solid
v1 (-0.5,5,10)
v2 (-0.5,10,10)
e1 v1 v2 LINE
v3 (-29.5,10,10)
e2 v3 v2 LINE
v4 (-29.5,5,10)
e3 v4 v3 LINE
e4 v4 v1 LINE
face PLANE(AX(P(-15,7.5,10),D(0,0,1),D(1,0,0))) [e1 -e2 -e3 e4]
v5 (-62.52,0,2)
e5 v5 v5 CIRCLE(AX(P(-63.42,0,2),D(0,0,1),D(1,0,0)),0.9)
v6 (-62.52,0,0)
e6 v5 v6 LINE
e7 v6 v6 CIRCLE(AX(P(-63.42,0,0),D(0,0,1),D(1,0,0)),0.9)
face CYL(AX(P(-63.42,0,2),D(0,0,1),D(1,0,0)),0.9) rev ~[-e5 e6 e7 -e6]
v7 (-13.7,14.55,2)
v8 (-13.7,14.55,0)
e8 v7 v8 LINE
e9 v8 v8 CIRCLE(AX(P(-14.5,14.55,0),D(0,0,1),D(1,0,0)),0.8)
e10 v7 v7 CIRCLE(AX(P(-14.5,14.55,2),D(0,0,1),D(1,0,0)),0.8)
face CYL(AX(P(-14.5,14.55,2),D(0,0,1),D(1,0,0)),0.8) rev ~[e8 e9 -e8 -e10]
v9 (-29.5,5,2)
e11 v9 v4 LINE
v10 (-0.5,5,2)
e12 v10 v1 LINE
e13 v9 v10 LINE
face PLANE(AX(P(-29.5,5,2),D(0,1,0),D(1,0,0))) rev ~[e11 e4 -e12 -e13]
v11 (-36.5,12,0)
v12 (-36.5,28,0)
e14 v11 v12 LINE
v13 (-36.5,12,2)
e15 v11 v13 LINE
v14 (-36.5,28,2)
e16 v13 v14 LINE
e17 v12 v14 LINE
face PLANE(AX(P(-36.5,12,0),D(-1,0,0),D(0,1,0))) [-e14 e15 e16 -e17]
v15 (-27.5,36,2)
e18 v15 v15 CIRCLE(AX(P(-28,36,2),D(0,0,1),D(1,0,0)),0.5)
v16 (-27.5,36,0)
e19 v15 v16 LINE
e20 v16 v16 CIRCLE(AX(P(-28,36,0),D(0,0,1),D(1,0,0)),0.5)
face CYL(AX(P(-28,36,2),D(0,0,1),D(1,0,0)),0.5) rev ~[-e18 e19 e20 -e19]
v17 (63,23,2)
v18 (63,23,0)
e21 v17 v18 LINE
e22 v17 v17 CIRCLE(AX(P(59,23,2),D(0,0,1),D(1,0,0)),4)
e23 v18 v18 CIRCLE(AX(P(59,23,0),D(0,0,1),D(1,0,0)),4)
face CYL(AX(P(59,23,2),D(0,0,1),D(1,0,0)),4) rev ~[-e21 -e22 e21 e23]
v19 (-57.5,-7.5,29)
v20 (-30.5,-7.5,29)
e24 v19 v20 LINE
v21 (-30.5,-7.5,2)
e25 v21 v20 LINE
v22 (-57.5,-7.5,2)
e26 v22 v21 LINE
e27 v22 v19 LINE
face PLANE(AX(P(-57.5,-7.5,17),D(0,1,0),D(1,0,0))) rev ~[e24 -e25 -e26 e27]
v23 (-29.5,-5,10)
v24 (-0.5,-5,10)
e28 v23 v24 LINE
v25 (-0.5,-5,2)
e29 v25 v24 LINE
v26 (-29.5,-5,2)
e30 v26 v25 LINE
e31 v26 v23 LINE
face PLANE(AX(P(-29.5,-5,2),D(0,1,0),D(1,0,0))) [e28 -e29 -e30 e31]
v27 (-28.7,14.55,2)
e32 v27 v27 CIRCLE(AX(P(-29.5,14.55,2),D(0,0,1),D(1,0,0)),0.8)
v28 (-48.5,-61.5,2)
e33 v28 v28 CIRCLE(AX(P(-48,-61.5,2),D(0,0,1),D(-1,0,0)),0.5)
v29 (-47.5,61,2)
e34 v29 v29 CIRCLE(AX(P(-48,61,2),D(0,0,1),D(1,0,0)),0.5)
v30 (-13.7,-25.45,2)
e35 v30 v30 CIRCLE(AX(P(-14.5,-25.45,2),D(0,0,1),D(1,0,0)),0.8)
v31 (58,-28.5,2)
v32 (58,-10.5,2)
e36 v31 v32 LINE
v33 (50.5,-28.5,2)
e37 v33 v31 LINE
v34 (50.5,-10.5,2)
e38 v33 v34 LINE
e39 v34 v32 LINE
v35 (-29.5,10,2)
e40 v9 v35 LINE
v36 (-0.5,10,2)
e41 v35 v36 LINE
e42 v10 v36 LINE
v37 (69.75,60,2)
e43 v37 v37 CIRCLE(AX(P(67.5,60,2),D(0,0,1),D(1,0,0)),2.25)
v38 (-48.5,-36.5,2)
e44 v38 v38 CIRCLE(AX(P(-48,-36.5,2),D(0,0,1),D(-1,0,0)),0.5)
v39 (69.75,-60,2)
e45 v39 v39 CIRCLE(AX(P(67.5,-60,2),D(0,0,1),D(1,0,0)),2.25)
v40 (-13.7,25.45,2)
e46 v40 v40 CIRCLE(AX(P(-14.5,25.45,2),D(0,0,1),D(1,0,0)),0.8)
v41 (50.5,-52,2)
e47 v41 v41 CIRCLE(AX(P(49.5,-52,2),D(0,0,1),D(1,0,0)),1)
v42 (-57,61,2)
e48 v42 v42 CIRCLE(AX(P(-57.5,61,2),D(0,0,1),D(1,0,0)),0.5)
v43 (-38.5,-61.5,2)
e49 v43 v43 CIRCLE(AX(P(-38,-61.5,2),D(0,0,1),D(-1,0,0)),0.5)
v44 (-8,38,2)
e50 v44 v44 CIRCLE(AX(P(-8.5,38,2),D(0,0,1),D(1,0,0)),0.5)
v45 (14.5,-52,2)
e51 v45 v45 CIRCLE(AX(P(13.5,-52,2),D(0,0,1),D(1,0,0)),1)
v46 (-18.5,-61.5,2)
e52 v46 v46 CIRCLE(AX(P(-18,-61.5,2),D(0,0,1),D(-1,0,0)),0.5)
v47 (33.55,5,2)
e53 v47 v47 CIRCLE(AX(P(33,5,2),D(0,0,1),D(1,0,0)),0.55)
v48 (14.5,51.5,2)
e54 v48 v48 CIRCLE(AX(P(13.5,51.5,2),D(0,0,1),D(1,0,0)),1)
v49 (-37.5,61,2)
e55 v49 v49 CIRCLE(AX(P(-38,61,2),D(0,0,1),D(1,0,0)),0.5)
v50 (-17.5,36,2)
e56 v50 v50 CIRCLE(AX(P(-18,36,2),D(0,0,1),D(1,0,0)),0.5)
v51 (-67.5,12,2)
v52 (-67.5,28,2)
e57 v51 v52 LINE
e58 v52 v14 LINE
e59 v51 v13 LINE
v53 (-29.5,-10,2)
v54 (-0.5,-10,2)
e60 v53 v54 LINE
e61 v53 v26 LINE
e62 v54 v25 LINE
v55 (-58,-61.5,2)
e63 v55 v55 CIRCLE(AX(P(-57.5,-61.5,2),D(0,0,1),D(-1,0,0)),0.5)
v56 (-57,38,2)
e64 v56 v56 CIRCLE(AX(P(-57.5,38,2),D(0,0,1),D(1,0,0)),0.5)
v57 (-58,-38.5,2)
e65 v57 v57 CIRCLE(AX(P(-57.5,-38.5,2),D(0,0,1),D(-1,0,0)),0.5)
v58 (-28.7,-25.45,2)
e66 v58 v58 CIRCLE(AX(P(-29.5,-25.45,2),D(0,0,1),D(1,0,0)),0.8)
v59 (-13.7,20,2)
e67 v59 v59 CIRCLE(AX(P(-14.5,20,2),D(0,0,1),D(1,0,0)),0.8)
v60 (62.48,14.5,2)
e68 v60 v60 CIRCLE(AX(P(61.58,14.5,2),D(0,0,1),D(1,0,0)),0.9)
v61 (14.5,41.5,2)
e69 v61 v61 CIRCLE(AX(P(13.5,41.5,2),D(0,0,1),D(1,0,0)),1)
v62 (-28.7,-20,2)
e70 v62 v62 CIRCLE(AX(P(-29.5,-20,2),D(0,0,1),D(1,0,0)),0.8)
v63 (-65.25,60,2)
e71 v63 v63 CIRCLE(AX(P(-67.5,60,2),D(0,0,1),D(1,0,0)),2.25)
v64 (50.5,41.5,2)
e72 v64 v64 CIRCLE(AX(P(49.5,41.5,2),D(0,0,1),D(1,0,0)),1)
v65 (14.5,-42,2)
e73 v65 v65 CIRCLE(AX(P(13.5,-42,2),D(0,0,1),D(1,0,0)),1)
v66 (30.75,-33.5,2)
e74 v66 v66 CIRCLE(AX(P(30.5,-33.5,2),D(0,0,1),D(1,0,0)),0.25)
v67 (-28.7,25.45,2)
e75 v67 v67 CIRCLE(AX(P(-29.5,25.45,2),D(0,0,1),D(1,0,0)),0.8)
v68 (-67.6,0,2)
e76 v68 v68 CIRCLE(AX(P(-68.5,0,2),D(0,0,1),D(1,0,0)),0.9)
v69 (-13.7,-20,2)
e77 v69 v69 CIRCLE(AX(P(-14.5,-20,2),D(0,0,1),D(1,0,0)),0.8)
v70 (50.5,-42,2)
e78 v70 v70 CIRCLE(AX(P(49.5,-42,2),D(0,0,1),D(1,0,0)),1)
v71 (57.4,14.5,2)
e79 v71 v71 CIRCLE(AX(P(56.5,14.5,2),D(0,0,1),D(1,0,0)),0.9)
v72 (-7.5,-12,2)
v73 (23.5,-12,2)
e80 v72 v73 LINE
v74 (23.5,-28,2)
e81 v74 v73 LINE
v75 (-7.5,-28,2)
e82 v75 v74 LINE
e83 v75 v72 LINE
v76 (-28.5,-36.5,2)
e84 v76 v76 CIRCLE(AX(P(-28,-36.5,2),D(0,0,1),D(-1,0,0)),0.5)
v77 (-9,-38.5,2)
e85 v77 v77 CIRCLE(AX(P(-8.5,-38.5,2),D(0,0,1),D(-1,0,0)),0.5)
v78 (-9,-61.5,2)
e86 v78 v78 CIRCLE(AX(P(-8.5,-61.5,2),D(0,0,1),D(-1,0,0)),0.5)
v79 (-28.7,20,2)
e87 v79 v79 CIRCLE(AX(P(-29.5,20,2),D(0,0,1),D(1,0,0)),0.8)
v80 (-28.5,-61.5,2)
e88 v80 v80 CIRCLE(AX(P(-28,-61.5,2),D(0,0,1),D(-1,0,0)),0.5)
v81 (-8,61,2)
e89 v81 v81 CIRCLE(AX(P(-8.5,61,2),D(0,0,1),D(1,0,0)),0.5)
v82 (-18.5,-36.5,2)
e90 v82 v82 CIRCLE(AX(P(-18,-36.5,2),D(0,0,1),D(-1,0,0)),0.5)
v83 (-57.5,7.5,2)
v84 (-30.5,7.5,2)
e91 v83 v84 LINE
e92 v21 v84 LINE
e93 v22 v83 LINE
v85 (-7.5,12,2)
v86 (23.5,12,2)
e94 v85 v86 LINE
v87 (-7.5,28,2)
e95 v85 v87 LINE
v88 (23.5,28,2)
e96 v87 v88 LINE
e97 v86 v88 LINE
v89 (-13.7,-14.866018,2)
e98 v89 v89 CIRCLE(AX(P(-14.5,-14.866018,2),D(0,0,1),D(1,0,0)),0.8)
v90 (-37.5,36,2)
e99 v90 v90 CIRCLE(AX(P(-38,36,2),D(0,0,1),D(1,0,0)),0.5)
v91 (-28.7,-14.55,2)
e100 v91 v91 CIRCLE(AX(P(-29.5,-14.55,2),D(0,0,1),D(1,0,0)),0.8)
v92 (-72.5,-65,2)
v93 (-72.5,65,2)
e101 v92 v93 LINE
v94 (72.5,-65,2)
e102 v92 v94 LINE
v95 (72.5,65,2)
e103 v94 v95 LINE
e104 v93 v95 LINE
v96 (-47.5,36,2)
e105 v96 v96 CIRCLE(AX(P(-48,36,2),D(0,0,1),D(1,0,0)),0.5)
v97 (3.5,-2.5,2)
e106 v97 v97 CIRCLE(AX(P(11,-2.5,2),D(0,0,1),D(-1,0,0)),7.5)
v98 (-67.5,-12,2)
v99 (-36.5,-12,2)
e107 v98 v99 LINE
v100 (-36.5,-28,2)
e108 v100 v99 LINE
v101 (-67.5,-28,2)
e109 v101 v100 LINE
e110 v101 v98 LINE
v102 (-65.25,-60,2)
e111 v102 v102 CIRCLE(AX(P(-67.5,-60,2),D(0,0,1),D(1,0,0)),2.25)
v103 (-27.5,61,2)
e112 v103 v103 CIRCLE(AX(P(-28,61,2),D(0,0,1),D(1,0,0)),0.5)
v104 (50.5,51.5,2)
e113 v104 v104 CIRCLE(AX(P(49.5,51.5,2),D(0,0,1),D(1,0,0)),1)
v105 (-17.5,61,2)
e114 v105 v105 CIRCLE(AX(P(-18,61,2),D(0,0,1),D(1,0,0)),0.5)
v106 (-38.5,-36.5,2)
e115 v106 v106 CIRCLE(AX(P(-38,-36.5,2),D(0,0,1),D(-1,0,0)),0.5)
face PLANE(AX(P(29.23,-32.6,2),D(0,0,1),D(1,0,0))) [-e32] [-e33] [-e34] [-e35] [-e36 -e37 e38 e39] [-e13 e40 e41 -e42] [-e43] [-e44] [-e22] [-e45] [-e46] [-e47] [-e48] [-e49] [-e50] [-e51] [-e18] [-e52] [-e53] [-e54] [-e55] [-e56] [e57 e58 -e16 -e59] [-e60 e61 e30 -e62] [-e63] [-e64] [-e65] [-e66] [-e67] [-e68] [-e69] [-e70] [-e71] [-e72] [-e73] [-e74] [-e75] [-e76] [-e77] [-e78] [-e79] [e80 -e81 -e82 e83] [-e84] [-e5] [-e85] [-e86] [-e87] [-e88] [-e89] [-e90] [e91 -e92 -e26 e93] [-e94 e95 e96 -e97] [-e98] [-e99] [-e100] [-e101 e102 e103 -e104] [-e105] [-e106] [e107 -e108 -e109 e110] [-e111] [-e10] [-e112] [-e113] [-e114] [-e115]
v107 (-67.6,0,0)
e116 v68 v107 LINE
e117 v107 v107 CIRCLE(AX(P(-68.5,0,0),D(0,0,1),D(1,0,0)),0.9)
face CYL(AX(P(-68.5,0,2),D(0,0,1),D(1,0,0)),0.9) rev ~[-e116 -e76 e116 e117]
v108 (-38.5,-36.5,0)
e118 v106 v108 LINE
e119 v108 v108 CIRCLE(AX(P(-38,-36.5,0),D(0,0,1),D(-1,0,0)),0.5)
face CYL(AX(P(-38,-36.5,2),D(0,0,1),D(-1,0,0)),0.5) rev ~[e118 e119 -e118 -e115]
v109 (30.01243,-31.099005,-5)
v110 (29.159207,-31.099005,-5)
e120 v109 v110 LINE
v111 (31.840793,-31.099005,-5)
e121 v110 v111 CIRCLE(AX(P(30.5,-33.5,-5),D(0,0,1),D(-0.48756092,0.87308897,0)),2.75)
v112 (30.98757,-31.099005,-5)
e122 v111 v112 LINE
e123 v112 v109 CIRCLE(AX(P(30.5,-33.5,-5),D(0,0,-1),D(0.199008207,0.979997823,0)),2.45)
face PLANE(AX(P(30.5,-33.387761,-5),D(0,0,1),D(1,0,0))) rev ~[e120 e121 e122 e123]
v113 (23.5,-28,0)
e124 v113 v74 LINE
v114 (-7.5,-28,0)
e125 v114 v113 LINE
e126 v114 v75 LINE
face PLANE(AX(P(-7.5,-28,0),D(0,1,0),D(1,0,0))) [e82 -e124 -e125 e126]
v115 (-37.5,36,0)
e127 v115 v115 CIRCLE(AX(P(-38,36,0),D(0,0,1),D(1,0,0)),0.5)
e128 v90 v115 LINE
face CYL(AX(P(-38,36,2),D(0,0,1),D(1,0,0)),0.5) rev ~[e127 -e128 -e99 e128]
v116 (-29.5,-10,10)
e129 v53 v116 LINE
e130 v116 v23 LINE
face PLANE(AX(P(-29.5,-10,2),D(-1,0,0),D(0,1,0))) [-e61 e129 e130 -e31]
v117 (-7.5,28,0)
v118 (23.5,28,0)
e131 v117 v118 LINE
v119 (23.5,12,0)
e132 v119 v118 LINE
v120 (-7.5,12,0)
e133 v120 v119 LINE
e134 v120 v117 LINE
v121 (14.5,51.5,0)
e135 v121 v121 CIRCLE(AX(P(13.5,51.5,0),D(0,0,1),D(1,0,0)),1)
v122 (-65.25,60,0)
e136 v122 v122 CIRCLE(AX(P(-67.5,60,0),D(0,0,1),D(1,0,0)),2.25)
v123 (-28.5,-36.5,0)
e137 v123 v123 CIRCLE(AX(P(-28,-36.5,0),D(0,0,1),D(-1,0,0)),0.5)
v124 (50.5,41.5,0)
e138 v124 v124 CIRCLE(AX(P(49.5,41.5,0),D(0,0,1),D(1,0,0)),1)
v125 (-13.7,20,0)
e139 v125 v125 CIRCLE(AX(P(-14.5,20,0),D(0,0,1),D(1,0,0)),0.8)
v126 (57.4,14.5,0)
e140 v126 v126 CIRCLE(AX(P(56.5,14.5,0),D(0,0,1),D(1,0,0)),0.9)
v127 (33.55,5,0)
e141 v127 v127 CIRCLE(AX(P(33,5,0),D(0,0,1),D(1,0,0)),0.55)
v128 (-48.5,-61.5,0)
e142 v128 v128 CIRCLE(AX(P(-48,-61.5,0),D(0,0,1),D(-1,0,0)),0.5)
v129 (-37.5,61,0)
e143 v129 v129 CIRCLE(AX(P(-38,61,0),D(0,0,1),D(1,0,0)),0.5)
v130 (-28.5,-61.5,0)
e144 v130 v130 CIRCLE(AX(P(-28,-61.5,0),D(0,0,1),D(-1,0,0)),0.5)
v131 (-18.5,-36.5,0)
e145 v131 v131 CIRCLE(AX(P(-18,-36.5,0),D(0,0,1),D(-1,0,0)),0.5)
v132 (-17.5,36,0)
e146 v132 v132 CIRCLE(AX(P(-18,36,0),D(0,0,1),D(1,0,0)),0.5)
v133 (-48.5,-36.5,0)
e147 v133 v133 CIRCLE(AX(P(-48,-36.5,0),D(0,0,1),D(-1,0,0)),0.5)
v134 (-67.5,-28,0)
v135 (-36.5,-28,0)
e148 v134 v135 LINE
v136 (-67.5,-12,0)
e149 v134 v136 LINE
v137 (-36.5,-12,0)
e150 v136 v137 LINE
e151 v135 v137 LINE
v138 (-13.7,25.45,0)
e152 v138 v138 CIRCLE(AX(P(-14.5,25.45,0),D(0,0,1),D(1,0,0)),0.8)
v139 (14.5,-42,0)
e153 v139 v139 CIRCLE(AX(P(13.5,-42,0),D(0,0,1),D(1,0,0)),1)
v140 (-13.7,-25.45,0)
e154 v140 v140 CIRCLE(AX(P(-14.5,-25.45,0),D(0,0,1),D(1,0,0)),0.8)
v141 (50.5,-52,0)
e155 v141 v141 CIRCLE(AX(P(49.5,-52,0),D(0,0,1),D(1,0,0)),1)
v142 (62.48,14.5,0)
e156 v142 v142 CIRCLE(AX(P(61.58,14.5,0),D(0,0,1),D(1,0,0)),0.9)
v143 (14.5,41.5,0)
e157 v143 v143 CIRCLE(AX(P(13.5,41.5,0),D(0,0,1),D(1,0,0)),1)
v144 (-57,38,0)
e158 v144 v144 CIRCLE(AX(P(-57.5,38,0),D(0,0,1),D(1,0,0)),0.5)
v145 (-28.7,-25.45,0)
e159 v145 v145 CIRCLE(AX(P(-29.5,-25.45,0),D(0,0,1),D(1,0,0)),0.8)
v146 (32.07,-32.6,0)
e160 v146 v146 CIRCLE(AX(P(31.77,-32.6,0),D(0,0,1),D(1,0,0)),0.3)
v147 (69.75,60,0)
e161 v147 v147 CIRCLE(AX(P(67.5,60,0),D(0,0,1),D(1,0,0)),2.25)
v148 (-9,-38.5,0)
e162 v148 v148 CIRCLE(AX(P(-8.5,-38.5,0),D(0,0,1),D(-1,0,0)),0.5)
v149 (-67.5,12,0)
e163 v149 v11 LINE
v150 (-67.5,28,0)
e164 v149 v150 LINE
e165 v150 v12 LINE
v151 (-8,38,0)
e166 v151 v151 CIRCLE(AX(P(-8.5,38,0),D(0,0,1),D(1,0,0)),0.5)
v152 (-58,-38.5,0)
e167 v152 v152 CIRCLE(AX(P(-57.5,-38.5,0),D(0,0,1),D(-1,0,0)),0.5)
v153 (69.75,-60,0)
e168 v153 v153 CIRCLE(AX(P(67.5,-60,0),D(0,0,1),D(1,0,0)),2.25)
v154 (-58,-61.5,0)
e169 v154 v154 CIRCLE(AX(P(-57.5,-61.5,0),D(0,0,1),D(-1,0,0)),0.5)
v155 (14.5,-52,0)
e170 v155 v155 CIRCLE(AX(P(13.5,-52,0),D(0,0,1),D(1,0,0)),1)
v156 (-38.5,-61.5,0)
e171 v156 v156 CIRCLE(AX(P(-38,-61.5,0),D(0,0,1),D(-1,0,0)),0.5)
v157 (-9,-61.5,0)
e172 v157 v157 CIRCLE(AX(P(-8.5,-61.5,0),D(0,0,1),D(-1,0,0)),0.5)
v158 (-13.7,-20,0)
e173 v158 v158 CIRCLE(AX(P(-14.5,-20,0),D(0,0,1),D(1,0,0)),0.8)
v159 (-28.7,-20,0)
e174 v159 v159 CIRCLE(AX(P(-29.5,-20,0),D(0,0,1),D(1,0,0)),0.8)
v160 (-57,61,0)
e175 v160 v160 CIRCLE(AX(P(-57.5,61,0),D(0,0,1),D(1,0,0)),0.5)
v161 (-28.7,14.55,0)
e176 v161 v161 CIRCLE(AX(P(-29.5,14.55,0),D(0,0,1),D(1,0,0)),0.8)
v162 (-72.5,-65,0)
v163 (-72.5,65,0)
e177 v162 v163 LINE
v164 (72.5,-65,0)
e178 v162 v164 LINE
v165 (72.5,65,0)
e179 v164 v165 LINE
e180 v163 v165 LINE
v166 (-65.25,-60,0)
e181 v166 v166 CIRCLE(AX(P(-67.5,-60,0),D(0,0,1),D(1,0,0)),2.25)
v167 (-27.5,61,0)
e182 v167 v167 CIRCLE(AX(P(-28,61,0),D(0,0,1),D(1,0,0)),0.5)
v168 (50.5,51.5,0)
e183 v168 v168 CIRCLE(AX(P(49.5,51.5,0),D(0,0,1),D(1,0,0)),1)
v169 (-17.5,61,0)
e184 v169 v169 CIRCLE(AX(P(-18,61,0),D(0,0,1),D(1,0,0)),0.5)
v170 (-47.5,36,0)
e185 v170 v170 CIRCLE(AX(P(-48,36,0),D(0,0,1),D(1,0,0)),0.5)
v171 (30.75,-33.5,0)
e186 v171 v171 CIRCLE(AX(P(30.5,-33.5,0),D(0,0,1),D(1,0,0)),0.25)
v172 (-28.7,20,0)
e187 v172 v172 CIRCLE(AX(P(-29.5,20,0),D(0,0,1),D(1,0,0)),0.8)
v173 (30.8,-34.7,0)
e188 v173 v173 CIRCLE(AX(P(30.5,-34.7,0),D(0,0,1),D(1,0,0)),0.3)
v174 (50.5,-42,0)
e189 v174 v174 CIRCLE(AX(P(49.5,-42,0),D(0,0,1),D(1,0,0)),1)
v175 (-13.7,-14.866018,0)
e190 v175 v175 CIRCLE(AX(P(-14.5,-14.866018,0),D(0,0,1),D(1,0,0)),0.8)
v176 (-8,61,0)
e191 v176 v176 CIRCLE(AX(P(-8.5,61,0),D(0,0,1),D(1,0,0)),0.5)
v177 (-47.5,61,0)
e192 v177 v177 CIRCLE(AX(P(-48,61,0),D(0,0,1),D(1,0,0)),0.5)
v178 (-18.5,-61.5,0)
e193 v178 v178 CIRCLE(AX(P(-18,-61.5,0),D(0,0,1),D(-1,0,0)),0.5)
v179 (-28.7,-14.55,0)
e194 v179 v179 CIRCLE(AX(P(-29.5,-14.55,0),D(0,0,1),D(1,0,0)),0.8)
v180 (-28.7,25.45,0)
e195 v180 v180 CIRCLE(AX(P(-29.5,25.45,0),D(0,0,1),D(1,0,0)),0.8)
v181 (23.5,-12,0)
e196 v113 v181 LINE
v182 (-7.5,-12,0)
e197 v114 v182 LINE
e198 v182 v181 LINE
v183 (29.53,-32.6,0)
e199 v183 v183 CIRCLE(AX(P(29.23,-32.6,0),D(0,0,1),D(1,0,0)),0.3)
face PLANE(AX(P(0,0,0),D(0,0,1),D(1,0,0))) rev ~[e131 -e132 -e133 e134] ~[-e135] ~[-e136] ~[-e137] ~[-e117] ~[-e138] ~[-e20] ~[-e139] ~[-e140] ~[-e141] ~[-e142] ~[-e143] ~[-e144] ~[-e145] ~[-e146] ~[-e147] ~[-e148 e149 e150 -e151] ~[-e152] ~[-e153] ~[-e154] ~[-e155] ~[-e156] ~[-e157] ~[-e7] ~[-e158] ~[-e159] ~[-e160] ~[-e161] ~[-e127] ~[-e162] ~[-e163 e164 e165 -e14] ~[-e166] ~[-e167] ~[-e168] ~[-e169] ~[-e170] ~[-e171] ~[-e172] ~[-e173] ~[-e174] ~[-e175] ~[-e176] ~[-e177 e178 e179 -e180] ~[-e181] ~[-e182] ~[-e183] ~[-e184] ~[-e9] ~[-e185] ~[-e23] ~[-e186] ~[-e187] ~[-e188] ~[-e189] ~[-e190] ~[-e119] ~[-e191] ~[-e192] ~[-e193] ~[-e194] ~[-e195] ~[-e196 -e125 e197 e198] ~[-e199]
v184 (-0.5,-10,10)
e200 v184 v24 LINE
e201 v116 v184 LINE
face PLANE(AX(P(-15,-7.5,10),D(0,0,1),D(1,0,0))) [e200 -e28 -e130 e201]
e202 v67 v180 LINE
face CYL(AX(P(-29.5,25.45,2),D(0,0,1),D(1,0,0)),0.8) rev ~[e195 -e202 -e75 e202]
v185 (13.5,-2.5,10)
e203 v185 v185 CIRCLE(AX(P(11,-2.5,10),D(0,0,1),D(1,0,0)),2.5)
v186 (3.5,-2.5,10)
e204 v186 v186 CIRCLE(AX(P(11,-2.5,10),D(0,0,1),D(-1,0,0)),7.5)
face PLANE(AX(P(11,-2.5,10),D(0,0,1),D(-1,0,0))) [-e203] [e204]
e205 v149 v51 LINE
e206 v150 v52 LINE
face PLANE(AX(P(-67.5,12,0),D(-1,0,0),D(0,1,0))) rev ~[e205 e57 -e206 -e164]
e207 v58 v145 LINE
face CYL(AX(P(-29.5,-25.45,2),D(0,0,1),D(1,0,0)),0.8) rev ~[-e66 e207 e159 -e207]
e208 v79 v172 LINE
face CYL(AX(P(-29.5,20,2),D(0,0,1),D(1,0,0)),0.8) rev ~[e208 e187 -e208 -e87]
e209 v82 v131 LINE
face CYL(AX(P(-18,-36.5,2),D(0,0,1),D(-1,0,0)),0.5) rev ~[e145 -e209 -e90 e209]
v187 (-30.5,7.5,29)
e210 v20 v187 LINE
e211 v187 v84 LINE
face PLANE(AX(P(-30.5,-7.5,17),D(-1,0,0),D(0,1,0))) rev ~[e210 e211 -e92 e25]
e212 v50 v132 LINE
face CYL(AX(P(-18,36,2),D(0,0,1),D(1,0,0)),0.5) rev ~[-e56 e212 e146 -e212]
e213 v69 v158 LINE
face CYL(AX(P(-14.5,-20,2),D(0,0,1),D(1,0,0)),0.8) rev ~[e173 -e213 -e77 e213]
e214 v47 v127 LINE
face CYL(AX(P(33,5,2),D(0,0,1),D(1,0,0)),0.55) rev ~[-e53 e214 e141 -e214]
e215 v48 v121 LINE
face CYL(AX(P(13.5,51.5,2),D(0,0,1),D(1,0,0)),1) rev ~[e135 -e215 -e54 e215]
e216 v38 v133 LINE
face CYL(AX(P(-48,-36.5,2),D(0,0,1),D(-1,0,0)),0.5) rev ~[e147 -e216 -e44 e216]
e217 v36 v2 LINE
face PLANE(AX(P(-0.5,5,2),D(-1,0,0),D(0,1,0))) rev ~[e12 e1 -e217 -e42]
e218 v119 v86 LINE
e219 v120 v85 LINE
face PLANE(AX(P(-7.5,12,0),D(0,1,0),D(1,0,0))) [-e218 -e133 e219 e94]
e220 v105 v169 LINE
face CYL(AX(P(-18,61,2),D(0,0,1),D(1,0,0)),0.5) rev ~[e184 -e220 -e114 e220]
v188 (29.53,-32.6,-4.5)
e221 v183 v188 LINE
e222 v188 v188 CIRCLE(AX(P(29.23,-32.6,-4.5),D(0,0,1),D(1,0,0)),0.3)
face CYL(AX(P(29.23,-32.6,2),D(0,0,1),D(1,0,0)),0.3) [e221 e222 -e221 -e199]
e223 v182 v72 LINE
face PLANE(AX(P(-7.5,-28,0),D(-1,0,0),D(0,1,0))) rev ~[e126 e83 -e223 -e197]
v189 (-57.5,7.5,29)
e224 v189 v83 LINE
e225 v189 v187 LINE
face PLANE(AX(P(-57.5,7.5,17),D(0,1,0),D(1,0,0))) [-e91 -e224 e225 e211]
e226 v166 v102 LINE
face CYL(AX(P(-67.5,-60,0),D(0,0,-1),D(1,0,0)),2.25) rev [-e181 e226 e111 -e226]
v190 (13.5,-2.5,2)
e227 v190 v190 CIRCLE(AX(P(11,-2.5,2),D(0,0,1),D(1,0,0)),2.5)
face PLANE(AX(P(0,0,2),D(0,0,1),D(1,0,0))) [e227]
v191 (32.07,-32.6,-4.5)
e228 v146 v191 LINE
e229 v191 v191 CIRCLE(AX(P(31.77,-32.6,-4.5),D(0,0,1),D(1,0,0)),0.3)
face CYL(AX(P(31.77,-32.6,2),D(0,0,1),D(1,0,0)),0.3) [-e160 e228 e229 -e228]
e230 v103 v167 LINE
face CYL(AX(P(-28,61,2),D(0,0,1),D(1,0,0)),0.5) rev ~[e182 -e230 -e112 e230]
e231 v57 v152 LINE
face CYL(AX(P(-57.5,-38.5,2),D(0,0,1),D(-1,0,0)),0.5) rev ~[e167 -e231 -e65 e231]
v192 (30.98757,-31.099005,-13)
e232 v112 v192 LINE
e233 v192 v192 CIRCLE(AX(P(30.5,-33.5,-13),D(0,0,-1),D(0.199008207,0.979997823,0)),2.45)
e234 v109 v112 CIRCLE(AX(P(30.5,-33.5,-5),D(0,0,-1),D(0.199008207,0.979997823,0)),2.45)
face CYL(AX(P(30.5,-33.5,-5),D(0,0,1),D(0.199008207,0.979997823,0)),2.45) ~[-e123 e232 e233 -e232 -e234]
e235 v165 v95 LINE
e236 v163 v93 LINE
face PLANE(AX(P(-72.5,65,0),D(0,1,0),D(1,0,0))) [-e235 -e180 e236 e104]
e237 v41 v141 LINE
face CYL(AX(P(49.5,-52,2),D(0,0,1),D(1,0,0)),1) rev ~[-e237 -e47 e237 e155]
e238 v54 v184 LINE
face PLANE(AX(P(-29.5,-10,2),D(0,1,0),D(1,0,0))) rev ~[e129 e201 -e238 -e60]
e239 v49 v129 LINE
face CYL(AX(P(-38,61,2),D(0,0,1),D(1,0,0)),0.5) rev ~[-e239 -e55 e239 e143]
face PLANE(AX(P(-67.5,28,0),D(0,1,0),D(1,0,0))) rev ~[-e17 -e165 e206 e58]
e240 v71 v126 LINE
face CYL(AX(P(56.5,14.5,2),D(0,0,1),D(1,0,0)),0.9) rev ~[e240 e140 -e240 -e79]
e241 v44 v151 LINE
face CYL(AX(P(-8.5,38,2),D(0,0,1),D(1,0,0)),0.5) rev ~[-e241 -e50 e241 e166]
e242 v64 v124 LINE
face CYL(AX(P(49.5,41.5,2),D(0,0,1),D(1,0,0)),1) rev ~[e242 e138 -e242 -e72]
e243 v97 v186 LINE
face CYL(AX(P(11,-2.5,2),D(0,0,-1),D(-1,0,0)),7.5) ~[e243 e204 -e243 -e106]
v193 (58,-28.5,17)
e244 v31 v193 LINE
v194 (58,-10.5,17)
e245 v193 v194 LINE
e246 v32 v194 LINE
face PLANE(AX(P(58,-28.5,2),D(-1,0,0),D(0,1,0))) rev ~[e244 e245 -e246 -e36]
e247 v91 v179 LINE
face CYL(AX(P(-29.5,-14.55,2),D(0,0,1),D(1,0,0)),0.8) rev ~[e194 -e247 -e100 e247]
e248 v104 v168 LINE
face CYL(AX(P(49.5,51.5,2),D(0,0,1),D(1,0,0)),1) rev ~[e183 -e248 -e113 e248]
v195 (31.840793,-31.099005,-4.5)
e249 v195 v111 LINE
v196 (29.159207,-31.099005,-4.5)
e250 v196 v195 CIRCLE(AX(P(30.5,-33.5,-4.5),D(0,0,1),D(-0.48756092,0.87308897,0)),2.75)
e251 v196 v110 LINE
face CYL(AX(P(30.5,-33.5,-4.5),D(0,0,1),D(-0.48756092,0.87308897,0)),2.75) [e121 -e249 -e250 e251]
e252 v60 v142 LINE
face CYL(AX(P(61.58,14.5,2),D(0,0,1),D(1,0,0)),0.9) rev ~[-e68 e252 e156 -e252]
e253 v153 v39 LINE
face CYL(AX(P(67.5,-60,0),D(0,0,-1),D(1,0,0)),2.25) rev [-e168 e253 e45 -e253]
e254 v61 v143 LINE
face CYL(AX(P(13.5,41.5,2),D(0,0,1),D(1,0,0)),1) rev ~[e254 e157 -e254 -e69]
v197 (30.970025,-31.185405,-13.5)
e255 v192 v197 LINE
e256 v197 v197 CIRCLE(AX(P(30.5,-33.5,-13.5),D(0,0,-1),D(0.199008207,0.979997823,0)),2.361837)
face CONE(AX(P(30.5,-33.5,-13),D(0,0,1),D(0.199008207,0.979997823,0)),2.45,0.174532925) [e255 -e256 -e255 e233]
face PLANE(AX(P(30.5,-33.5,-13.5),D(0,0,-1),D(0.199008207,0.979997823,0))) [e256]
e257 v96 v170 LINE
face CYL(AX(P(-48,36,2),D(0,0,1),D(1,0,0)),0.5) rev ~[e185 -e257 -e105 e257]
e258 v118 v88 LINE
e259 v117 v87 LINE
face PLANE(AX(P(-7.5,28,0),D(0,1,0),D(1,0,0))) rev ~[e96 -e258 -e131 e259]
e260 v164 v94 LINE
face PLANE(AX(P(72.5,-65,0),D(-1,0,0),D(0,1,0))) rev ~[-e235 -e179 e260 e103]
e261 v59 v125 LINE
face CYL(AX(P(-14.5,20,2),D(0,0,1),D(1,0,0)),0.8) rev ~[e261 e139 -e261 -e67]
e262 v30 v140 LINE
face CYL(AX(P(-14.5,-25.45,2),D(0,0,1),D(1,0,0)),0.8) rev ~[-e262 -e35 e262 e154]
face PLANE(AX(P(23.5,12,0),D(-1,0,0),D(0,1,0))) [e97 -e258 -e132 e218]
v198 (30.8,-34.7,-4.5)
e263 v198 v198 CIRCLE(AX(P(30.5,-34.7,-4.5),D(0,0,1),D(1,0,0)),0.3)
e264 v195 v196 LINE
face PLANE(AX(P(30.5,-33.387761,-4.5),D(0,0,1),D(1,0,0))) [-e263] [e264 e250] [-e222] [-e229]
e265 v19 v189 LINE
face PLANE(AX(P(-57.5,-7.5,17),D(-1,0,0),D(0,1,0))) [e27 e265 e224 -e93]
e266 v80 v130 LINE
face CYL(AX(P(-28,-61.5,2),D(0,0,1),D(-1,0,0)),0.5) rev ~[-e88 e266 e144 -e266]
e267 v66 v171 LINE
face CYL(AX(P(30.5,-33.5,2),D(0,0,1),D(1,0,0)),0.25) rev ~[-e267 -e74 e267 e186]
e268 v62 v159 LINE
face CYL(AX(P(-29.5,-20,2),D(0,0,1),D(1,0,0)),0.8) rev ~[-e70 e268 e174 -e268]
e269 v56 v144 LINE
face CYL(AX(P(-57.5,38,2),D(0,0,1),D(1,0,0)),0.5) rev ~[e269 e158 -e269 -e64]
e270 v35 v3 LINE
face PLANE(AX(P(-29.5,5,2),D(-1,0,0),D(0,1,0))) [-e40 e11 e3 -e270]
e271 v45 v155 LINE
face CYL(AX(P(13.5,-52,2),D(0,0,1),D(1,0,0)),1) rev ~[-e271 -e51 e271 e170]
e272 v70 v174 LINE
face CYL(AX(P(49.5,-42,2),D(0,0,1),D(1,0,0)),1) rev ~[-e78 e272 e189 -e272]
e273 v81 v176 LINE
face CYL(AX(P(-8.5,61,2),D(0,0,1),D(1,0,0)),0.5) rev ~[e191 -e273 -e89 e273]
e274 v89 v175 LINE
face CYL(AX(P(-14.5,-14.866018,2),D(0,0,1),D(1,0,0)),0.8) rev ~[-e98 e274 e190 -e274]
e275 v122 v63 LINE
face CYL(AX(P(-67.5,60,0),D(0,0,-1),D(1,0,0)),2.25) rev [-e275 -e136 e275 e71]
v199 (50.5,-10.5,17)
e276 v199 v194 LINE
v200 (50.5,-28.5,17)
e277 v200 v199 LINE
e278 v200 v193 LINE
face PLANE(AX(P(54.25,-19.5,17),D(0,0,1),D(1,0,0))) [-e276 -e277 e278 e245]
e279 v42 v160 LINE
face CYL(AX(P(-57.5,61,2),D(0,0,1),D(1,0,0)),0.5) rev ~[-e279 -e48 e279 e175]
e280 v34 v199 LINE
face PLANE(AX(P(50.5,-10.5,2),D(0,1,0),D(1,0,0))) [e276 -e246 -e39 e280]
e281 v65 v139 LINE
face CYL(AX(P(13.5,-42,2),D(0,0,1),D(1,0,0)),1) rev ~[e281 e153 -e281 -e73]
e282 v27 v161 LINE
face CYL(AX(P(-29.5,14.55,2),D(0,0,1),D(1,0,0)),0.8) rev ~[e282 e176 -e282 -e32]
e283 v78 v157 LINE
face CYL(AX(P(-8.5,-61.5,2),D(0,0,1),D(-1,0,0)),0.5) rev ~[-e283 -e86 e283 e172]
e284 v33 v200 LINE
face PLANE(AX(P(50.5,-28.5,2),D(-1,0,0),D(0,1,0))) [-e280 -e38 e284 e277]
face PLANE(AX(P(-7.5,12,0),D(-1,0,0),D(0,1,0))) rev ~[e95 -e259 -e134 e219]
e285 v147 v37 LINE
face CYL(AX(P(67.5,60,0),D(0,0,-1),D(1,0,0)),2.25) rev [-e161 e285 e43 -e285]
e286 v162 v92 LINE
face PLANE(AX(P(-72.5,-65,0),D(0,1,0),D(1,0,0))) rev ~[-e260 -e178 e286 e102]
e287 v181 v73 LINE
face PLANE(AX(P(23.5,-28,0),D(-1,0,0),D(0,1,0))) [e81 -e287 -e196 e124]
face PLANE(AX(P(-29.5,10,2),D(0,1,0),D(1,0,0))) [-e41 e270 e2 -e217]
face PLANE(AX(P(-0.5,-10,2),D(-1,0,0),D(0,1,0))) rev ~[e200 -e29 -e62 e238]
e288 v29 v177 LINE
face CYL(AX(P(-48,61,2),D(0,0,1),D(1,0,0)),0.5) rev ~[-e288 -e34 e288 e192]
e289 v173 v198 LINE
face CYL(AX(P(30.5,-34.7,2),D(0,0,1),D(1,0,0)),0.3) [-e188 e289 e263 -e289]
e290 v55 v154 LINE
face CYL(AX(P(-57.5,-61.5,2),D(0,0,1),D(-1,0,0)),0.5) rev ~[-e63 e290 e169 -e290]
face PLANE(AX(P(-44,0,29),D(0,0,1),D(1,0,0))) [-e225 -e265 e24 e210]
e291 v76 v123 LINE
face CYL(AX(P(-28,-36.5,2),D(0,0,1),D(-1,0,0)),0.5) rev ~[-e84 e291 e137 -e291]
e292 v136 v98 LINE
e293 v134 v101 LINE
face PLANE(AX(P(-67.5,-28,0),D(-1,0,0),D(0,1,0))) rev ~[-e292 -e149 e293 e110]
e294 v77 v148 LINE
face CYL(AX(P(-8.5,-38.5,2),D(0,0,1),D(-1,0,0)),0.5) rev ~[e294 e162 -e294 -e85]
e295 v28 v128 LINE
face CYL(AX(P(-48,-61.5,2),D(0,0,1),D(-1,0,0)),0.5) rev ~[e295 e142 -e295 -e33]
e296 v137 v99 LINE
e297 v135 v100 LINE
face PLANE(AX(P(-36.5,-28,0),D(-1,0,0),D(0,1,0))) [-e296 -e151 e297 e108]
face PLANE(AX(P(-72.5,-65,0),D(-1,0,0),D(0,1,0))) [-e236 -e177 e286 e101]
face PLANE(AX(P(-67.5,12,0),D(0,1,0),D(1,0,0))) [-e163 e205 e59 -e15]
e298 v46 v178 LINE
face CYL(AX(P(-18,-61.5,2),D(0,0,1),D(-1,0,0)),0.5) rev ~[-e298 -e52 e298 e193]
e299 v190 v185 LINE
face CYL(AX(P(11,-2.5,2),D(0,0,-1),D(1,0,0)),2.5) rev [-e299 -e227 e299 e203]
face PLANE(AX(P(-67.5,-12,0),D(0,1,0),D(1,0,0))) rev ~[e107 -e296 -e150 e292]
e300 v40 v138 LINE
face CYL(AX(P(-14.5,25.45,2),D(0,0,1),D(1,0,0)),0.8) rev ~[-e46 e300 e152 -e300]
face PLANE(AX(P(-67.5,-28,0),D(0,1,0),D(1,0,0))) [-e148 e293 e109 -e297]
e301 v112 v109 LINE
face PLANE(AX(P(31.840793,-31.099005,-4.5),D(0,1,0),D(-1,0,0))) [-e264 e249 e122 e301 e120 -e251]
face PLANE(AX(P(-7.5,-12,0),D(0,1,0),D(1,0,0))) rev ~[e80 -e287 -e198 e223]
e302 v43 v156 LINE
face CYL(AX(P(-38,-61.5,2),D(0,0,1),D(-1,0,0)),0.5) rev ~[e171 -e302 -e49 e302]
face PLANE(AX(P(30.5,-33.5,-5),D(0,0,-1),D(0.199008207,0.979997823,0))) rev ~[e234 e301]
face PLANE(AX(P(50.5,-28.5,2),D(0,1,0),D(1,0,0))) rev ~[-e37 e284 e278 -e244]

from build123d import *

# Parameters (mm, degrees)
SKETCH_1_W          = 145
SKETCH_1_H          = 130
SKETCH_1_R          = 2.25
SKETCH_1_W_2        = 31
SKETCH_1_H_2        = 16
EXTRUDE_1_DEPTH     = 2
SKETCH_2_R          = 0.5
SKETCH_2_R_2        = 0.8
CUT_EXTRUDE_1_DEPTH = 2
SKETCH_3_R          = 1
SKETCH_3_R_2        = 4
SKETCH_3_R_3        = 0.9
CUT_EXTRUDE_2_DEPTH = 2
SKETCH_4_R          = 7.5
SKETCH_4_R_2        = 2.5
SKETCH_4_W          = 29
SKETCH_4_H          = 5
EXTRUDE_2_DEPTH     = 8
SKETCH_5_R          = 0.55
SKETCH_5_R_2        = 0.25
CUT_EXTRUDE_3_DEPTH = 10
SKETCH_6_W          = 27
SKETCH_6_H          = 15
SKETCH_6_W_2        = 7.5
SKETCH_6_H_2        = 18
EXTRUDE_3_DEPTH     = 15
SKETCH_7_W          = 27
SKETCH_7_H          = 15
EXTRUDE_4_DEPTH     = 12
SKETCH_9_R          = 0.3
EXTRUDE_5_DEPTH     = 6.5
EXTRUDE_6_DEPTH     = 0.5
SKETCH_11_R         = 2.45
EXTRUDE_7_DEPTH     = 8.5
CHAMFER_1_SIZE      = 0.5
CHAMFER_1_SIZE2     = 0.08816349


with BuildPart() as part:
    # Эскиз1 → Вытянуть1 (new body)
    with BuildSketch(Plane.XY):
        Rectangle(SKETCH_1_W, SKETCH_1_H)
        with Locations((-67.5, 60)):
            Circle(SKETCH_1_R, mode=Mode.SUBTRACT)
        with Locations((-67.5, -60)):
            Circle(SKETCH_1_R, mode=Mode.SUBTRACT)
        with Locations((67.5, 60)):
            Circle(SKETCH_1_R, mode=Mode.SUBTRACT)
        with Locations((67.5, -60)):
            Circle(SKETCH_1_R, mode=Mode.SUBTRACT)
        with Locations((-52, 20)):
            Rectangle(SKETCH_1_W_2, SKETCH_1_H_2, mode=Mode.SUBTRACT)
        with Locations((-52, -20)):
            Rectangle(SKETCH_1_W_2, SKETCH_1_H_2, mode=Mode.SUBTRACT)
        with Locations((8, 20)):
            Rectangle(SKETCH_1_W_2, SKETCH_1_H_2, mode=Mode.SUBTRACT)
        with Locations((8, -20)):
            Rectangle(SKETCH_1_W_2, SKETCH_1_H_2, mode=Mode.SUBTRACT)
    extrude(amount=EXTRUDE_1_DEPTH)

    # Эскиз2 → Вырез-Вытянуть1 (cut)
    with BuildSketch(Plane.XY.offset(2)):
        with Locations((-57.5, 61)):
            Circle(SKETCH_2_R)
        with Locations((-48, 61)):
            Circle(SKETCH_2_R)
        with Locations((-57.5, 38)):
            Circle(SKETCH_2_R)
        with Locations((-48, 36)):
            Circle(SKETCH_2_R)
        with Locations((-38, 61)):
            Circle(SKETCH_2_R)
        with Locations((-38, 36)):
            Circle(SKETCH_2_R)
        with Locations((-28, 61)):
            Circle(SKETCH_2_R)
        with Locations((-28, 36)):
            Circle(SKETCH_2_R)
        with Locations((-18, 61)):
            Circle(SKETCH_2_R)
        with Locations((-18, 36)):
            Circle(SKETCH_2_R)
        with Locations((-8.5, 61)):
            Circle(SKETCH_2_R)
        with Locations((-8.5, 38)):
            Circle(SKETCH_2_R)
        with Locations(Location((-8.5, -38.5, 0), (0, 0, 180))):
            Circle(SKETCH_2_R)
        with Locations(Location((-8.5, -61.5, 0), (0, 0, 180))):
            Circle(SKETCH_2_R)
        with Locations(Location((-18, -61.5, 0), (0, 0, 180))):
            Circle(SKETCH_2_R)
        with Locations(Location((-18, -36.5, 0), (0, 0, 180))):
            Circle(SKETCH_2_R)
        with Locations(Location((-28, -36.5, 0), (0, 0, 180))):
            Circle(SKETCH_2_R)
        with Locations(Location((-28, -61.5, 0), (0, 0, 180))):
            Circle(SKETCH_2_R)
        with Locations(Location((-38, -61.5, 0), (0, 0, 180))):
            Circle(SKETCH_2_R)
        with Locations(Location((-38, -36.5, 0), (0, 0, 180))):
            Circle(SKETCH_2_R)
        with Locations(Location((-48, -36.5, 0), (0, 0, 180))):
            Circle(SKETCH_2_R)
        with Locations(Location((-48, -61.5, 0), (0, 0, 180))):
            Circle(SKETCH_2_R)
        with Locations(Location((-57.5, -61.5, 0), (0, 0, 180))):
            Circle(SKETCH_2_R)
        with Locations(Location((-57.5, -38.5, 0), (0, 0, 180))):
            Circle(SKETCH_2_R)
        with Locations((-29.5, 20)):
            Circle(SKETCH_2_R_2)
        with Locations((-29.5, -20)):
            Circle(SKETCH_2_R_2)
        with Locations((-29.5, 14.55)):
            Circle(SKETCH_2_R_2)
        with Locations((-29.5, 25.45)):
            Circle(SKETCH_2_R_2)
        with Locations((-29.5, -14.55)):
            Circle(SKETCH_2_R_2)
        with Locations((-29.5, -25.45)):
            Circle(SKETCH_2_R_2)
        with Locations((-14.5, 20)):
            Circle(SKETCH_2_R_2)
        with Locations((-14.5, -20)):
            Circle(SKETCH_2_R_2)
        with Locations((-14.5, 14.55)):
            Circle(SKETCH_2_R_2)
        with Locations((-14.5, 25.45)):
            Circle(SKETCH_2_R_2)
        with Locations((-14.5, -14.866018045)):
            Circle(SKETCH_2_R_2)
        with Locations((-14.5, -25.45)):
            Circle(SKETCH_2_R_2)
    extrude(amount=-CUT_EXTRUDE_1_DEPTH, mode=Mode.SUBTRACT)

    # Эскиз3 → Вырез-Вытянуть2 (cut)
    with BuildSketch(Plane.XY.offset(2)):
        with Locations((13.5, 41.5)):
            Circle(SKETCH_3_R)
        with Locations((13.5, 51.5)):
            Circle(SKETCH_3_R)
        with Locations((49.5, 41.5)):
            Circle(SKETCH_3_R)
        with Locations((49.5, 51.5)):
            Circle(SKETCH_3_R)
        with Locations((13.5, -52)):
            Circle(SKETCH_3_R)
        with Locations((13.5, -42)):
            Circle(SKETCH_3_R)
        with Locations((49.5, -52)):
            Circle(SKETCH_3_R)
        with Locations((49.5, -42)):
            Circle(SKETCH_3_R)
        with Locations((59, 23)):
            Circle(SKETCH_3_R_2)
        with Locations((-68.5, 0)):
            Circle(SKETCH_3_R_3)
        with Locations((-63.42, 0)):
            Circle(SKETCH_3_R_3)
        with Locations((56.5, 14.5)):
            Circle(SKETCH_3_R_3)
        with Locations((61.58, 14.5)):
            Circle(SKETCH_3_R_3)
    extrude(amount=-CUT_EXTRUDE_2_DEPTH, mode=Mode.SUBTRACT)

    # Эскиз4 → Вытянуть2 (add)
    # profile 1 of 3: a face of its own
    with BuildSketch(Plane.XY.offset(2)):
        with Locations(Location((11, -2.5, 0), (0, 0, 180))):
            Circle(SKETCH_4_R)
        with Locations((11, -2.5)):
            Circle(SKETCH_4_R_2, mode=Mode.SUBTRACT)
    # profile 2 of 3: a face of its own
    with BuildSketch(Plane.XY.offset(2)):
        with Locations((-15, 7.5)):
            Rectangle(SKETCH_4_W, SKETCH_4_H)
    # profile 3 of 3: a face of its own
    with BuildSketch(Plane.XY.offset(2)):
        with Locations((-15, -7.5)):
            Rectangle(SKETCH_4_W, SKETCH_4_H)
    extrude(amount=EXTRUDE_2_DEPTH)

    # Эскиз5 → Вырез-Вытянуть3 (cut)
    with BuildSketch(Plane.XY.offset(2)):
        with Locations((33, 5)):
            Circle(SKETCH_5_R)
        with Locations((30.5, -33.5)):
            Circle(SKETCH_5_R_2)
    extrude(amount=-CUT_EXTRUDE_3_DEPTH, mode=Mode.SUBTRACT)

    # Эскиз6 → Вытянуть3 (add)
    with BuildSketch(Plane.XY.offset(2)):
        with Locations((-44, 0)):
            Rectangle(SKETCH_6_W, SKETCH_6_H)
        with Locations((54.25, -19.5)):
            Rectangle(SKETCH_6_W_2, SKETCH_6_H_2)
    extrude(amount=EXTRUDE_3_DEPTH)

    # Эскиз7 → Вытянуть4 (add)
    with BuildSketch(Plane.XY.offset(17)):
        with Locations((-44, 0)):
            Rectangle(SKETCH_7_W, SKETCH_7_H)
    extrude(amount=EXTRUDE_4_DEPTH)

    # Эскиз9 → Вытянуть5 (add)
    with BuildSketch(Plane.XY.offset(2)):
        with Locations((29.23, -32.6)):
            Circle(SKETCH_9_R)
        with Locations((31.77, -32.6)):
            Circle(SKETCH_9_R)
        with Locations((30.5, -34.7)):
            Circle(SKETCH_9_R)
    extrude(amount=-EXTRUDE_5_DEPTH)

    # Эскиз10 → Вытянуть6 (add)
    with BuildSketch(Plane(origin=(0, 0, -4.5), x_dir=(-1, 0, 0), z_dir=(0, 0, -1))):
        with BuildLine():
            Line((-31.84079253, -31.099005333), (-29.15920747, -31.099005333))
            ThreePointArc((-29.15920747, -31.099005333), (-30.5, -36.25), (-31.84079253, -31.099005333))
        make_face()
    extrude(amount=EXTRUDE_6_DEPTH)

    # Эскиз11 → Вытянуть7 (add)
    with BuildSketch(Plane(origin=(0, 0, -5), x_dir=(-1, 0, 0), z_dir=(0, 0, -1))):
        with Locations(Location((-30.5, -33.5, 0), (0, 0, 101.478967652))):
            Circle(SKETCH_11_R)
    extrude(amount=EXTRUDE_7_DEPTH)

    # Фаска1
    chamfer_1_edges = [part.edges().sort_by_distance(p)[0] for p in [
        (30.012429894, -35.900994667, -13.5),
    ]]
    chamfer_1_side = [part.faces().sort_by_distance(p)[0] for p in [
        (30.012429894, -35.900994667, -9.25),
    ]]
    chamfer(chamfer_1_edges, length=CHAMFER_1_SIZE, length2=CHAMFER_1_SIZE2, reference=chamfer_1_side[0])


solid = part.part
